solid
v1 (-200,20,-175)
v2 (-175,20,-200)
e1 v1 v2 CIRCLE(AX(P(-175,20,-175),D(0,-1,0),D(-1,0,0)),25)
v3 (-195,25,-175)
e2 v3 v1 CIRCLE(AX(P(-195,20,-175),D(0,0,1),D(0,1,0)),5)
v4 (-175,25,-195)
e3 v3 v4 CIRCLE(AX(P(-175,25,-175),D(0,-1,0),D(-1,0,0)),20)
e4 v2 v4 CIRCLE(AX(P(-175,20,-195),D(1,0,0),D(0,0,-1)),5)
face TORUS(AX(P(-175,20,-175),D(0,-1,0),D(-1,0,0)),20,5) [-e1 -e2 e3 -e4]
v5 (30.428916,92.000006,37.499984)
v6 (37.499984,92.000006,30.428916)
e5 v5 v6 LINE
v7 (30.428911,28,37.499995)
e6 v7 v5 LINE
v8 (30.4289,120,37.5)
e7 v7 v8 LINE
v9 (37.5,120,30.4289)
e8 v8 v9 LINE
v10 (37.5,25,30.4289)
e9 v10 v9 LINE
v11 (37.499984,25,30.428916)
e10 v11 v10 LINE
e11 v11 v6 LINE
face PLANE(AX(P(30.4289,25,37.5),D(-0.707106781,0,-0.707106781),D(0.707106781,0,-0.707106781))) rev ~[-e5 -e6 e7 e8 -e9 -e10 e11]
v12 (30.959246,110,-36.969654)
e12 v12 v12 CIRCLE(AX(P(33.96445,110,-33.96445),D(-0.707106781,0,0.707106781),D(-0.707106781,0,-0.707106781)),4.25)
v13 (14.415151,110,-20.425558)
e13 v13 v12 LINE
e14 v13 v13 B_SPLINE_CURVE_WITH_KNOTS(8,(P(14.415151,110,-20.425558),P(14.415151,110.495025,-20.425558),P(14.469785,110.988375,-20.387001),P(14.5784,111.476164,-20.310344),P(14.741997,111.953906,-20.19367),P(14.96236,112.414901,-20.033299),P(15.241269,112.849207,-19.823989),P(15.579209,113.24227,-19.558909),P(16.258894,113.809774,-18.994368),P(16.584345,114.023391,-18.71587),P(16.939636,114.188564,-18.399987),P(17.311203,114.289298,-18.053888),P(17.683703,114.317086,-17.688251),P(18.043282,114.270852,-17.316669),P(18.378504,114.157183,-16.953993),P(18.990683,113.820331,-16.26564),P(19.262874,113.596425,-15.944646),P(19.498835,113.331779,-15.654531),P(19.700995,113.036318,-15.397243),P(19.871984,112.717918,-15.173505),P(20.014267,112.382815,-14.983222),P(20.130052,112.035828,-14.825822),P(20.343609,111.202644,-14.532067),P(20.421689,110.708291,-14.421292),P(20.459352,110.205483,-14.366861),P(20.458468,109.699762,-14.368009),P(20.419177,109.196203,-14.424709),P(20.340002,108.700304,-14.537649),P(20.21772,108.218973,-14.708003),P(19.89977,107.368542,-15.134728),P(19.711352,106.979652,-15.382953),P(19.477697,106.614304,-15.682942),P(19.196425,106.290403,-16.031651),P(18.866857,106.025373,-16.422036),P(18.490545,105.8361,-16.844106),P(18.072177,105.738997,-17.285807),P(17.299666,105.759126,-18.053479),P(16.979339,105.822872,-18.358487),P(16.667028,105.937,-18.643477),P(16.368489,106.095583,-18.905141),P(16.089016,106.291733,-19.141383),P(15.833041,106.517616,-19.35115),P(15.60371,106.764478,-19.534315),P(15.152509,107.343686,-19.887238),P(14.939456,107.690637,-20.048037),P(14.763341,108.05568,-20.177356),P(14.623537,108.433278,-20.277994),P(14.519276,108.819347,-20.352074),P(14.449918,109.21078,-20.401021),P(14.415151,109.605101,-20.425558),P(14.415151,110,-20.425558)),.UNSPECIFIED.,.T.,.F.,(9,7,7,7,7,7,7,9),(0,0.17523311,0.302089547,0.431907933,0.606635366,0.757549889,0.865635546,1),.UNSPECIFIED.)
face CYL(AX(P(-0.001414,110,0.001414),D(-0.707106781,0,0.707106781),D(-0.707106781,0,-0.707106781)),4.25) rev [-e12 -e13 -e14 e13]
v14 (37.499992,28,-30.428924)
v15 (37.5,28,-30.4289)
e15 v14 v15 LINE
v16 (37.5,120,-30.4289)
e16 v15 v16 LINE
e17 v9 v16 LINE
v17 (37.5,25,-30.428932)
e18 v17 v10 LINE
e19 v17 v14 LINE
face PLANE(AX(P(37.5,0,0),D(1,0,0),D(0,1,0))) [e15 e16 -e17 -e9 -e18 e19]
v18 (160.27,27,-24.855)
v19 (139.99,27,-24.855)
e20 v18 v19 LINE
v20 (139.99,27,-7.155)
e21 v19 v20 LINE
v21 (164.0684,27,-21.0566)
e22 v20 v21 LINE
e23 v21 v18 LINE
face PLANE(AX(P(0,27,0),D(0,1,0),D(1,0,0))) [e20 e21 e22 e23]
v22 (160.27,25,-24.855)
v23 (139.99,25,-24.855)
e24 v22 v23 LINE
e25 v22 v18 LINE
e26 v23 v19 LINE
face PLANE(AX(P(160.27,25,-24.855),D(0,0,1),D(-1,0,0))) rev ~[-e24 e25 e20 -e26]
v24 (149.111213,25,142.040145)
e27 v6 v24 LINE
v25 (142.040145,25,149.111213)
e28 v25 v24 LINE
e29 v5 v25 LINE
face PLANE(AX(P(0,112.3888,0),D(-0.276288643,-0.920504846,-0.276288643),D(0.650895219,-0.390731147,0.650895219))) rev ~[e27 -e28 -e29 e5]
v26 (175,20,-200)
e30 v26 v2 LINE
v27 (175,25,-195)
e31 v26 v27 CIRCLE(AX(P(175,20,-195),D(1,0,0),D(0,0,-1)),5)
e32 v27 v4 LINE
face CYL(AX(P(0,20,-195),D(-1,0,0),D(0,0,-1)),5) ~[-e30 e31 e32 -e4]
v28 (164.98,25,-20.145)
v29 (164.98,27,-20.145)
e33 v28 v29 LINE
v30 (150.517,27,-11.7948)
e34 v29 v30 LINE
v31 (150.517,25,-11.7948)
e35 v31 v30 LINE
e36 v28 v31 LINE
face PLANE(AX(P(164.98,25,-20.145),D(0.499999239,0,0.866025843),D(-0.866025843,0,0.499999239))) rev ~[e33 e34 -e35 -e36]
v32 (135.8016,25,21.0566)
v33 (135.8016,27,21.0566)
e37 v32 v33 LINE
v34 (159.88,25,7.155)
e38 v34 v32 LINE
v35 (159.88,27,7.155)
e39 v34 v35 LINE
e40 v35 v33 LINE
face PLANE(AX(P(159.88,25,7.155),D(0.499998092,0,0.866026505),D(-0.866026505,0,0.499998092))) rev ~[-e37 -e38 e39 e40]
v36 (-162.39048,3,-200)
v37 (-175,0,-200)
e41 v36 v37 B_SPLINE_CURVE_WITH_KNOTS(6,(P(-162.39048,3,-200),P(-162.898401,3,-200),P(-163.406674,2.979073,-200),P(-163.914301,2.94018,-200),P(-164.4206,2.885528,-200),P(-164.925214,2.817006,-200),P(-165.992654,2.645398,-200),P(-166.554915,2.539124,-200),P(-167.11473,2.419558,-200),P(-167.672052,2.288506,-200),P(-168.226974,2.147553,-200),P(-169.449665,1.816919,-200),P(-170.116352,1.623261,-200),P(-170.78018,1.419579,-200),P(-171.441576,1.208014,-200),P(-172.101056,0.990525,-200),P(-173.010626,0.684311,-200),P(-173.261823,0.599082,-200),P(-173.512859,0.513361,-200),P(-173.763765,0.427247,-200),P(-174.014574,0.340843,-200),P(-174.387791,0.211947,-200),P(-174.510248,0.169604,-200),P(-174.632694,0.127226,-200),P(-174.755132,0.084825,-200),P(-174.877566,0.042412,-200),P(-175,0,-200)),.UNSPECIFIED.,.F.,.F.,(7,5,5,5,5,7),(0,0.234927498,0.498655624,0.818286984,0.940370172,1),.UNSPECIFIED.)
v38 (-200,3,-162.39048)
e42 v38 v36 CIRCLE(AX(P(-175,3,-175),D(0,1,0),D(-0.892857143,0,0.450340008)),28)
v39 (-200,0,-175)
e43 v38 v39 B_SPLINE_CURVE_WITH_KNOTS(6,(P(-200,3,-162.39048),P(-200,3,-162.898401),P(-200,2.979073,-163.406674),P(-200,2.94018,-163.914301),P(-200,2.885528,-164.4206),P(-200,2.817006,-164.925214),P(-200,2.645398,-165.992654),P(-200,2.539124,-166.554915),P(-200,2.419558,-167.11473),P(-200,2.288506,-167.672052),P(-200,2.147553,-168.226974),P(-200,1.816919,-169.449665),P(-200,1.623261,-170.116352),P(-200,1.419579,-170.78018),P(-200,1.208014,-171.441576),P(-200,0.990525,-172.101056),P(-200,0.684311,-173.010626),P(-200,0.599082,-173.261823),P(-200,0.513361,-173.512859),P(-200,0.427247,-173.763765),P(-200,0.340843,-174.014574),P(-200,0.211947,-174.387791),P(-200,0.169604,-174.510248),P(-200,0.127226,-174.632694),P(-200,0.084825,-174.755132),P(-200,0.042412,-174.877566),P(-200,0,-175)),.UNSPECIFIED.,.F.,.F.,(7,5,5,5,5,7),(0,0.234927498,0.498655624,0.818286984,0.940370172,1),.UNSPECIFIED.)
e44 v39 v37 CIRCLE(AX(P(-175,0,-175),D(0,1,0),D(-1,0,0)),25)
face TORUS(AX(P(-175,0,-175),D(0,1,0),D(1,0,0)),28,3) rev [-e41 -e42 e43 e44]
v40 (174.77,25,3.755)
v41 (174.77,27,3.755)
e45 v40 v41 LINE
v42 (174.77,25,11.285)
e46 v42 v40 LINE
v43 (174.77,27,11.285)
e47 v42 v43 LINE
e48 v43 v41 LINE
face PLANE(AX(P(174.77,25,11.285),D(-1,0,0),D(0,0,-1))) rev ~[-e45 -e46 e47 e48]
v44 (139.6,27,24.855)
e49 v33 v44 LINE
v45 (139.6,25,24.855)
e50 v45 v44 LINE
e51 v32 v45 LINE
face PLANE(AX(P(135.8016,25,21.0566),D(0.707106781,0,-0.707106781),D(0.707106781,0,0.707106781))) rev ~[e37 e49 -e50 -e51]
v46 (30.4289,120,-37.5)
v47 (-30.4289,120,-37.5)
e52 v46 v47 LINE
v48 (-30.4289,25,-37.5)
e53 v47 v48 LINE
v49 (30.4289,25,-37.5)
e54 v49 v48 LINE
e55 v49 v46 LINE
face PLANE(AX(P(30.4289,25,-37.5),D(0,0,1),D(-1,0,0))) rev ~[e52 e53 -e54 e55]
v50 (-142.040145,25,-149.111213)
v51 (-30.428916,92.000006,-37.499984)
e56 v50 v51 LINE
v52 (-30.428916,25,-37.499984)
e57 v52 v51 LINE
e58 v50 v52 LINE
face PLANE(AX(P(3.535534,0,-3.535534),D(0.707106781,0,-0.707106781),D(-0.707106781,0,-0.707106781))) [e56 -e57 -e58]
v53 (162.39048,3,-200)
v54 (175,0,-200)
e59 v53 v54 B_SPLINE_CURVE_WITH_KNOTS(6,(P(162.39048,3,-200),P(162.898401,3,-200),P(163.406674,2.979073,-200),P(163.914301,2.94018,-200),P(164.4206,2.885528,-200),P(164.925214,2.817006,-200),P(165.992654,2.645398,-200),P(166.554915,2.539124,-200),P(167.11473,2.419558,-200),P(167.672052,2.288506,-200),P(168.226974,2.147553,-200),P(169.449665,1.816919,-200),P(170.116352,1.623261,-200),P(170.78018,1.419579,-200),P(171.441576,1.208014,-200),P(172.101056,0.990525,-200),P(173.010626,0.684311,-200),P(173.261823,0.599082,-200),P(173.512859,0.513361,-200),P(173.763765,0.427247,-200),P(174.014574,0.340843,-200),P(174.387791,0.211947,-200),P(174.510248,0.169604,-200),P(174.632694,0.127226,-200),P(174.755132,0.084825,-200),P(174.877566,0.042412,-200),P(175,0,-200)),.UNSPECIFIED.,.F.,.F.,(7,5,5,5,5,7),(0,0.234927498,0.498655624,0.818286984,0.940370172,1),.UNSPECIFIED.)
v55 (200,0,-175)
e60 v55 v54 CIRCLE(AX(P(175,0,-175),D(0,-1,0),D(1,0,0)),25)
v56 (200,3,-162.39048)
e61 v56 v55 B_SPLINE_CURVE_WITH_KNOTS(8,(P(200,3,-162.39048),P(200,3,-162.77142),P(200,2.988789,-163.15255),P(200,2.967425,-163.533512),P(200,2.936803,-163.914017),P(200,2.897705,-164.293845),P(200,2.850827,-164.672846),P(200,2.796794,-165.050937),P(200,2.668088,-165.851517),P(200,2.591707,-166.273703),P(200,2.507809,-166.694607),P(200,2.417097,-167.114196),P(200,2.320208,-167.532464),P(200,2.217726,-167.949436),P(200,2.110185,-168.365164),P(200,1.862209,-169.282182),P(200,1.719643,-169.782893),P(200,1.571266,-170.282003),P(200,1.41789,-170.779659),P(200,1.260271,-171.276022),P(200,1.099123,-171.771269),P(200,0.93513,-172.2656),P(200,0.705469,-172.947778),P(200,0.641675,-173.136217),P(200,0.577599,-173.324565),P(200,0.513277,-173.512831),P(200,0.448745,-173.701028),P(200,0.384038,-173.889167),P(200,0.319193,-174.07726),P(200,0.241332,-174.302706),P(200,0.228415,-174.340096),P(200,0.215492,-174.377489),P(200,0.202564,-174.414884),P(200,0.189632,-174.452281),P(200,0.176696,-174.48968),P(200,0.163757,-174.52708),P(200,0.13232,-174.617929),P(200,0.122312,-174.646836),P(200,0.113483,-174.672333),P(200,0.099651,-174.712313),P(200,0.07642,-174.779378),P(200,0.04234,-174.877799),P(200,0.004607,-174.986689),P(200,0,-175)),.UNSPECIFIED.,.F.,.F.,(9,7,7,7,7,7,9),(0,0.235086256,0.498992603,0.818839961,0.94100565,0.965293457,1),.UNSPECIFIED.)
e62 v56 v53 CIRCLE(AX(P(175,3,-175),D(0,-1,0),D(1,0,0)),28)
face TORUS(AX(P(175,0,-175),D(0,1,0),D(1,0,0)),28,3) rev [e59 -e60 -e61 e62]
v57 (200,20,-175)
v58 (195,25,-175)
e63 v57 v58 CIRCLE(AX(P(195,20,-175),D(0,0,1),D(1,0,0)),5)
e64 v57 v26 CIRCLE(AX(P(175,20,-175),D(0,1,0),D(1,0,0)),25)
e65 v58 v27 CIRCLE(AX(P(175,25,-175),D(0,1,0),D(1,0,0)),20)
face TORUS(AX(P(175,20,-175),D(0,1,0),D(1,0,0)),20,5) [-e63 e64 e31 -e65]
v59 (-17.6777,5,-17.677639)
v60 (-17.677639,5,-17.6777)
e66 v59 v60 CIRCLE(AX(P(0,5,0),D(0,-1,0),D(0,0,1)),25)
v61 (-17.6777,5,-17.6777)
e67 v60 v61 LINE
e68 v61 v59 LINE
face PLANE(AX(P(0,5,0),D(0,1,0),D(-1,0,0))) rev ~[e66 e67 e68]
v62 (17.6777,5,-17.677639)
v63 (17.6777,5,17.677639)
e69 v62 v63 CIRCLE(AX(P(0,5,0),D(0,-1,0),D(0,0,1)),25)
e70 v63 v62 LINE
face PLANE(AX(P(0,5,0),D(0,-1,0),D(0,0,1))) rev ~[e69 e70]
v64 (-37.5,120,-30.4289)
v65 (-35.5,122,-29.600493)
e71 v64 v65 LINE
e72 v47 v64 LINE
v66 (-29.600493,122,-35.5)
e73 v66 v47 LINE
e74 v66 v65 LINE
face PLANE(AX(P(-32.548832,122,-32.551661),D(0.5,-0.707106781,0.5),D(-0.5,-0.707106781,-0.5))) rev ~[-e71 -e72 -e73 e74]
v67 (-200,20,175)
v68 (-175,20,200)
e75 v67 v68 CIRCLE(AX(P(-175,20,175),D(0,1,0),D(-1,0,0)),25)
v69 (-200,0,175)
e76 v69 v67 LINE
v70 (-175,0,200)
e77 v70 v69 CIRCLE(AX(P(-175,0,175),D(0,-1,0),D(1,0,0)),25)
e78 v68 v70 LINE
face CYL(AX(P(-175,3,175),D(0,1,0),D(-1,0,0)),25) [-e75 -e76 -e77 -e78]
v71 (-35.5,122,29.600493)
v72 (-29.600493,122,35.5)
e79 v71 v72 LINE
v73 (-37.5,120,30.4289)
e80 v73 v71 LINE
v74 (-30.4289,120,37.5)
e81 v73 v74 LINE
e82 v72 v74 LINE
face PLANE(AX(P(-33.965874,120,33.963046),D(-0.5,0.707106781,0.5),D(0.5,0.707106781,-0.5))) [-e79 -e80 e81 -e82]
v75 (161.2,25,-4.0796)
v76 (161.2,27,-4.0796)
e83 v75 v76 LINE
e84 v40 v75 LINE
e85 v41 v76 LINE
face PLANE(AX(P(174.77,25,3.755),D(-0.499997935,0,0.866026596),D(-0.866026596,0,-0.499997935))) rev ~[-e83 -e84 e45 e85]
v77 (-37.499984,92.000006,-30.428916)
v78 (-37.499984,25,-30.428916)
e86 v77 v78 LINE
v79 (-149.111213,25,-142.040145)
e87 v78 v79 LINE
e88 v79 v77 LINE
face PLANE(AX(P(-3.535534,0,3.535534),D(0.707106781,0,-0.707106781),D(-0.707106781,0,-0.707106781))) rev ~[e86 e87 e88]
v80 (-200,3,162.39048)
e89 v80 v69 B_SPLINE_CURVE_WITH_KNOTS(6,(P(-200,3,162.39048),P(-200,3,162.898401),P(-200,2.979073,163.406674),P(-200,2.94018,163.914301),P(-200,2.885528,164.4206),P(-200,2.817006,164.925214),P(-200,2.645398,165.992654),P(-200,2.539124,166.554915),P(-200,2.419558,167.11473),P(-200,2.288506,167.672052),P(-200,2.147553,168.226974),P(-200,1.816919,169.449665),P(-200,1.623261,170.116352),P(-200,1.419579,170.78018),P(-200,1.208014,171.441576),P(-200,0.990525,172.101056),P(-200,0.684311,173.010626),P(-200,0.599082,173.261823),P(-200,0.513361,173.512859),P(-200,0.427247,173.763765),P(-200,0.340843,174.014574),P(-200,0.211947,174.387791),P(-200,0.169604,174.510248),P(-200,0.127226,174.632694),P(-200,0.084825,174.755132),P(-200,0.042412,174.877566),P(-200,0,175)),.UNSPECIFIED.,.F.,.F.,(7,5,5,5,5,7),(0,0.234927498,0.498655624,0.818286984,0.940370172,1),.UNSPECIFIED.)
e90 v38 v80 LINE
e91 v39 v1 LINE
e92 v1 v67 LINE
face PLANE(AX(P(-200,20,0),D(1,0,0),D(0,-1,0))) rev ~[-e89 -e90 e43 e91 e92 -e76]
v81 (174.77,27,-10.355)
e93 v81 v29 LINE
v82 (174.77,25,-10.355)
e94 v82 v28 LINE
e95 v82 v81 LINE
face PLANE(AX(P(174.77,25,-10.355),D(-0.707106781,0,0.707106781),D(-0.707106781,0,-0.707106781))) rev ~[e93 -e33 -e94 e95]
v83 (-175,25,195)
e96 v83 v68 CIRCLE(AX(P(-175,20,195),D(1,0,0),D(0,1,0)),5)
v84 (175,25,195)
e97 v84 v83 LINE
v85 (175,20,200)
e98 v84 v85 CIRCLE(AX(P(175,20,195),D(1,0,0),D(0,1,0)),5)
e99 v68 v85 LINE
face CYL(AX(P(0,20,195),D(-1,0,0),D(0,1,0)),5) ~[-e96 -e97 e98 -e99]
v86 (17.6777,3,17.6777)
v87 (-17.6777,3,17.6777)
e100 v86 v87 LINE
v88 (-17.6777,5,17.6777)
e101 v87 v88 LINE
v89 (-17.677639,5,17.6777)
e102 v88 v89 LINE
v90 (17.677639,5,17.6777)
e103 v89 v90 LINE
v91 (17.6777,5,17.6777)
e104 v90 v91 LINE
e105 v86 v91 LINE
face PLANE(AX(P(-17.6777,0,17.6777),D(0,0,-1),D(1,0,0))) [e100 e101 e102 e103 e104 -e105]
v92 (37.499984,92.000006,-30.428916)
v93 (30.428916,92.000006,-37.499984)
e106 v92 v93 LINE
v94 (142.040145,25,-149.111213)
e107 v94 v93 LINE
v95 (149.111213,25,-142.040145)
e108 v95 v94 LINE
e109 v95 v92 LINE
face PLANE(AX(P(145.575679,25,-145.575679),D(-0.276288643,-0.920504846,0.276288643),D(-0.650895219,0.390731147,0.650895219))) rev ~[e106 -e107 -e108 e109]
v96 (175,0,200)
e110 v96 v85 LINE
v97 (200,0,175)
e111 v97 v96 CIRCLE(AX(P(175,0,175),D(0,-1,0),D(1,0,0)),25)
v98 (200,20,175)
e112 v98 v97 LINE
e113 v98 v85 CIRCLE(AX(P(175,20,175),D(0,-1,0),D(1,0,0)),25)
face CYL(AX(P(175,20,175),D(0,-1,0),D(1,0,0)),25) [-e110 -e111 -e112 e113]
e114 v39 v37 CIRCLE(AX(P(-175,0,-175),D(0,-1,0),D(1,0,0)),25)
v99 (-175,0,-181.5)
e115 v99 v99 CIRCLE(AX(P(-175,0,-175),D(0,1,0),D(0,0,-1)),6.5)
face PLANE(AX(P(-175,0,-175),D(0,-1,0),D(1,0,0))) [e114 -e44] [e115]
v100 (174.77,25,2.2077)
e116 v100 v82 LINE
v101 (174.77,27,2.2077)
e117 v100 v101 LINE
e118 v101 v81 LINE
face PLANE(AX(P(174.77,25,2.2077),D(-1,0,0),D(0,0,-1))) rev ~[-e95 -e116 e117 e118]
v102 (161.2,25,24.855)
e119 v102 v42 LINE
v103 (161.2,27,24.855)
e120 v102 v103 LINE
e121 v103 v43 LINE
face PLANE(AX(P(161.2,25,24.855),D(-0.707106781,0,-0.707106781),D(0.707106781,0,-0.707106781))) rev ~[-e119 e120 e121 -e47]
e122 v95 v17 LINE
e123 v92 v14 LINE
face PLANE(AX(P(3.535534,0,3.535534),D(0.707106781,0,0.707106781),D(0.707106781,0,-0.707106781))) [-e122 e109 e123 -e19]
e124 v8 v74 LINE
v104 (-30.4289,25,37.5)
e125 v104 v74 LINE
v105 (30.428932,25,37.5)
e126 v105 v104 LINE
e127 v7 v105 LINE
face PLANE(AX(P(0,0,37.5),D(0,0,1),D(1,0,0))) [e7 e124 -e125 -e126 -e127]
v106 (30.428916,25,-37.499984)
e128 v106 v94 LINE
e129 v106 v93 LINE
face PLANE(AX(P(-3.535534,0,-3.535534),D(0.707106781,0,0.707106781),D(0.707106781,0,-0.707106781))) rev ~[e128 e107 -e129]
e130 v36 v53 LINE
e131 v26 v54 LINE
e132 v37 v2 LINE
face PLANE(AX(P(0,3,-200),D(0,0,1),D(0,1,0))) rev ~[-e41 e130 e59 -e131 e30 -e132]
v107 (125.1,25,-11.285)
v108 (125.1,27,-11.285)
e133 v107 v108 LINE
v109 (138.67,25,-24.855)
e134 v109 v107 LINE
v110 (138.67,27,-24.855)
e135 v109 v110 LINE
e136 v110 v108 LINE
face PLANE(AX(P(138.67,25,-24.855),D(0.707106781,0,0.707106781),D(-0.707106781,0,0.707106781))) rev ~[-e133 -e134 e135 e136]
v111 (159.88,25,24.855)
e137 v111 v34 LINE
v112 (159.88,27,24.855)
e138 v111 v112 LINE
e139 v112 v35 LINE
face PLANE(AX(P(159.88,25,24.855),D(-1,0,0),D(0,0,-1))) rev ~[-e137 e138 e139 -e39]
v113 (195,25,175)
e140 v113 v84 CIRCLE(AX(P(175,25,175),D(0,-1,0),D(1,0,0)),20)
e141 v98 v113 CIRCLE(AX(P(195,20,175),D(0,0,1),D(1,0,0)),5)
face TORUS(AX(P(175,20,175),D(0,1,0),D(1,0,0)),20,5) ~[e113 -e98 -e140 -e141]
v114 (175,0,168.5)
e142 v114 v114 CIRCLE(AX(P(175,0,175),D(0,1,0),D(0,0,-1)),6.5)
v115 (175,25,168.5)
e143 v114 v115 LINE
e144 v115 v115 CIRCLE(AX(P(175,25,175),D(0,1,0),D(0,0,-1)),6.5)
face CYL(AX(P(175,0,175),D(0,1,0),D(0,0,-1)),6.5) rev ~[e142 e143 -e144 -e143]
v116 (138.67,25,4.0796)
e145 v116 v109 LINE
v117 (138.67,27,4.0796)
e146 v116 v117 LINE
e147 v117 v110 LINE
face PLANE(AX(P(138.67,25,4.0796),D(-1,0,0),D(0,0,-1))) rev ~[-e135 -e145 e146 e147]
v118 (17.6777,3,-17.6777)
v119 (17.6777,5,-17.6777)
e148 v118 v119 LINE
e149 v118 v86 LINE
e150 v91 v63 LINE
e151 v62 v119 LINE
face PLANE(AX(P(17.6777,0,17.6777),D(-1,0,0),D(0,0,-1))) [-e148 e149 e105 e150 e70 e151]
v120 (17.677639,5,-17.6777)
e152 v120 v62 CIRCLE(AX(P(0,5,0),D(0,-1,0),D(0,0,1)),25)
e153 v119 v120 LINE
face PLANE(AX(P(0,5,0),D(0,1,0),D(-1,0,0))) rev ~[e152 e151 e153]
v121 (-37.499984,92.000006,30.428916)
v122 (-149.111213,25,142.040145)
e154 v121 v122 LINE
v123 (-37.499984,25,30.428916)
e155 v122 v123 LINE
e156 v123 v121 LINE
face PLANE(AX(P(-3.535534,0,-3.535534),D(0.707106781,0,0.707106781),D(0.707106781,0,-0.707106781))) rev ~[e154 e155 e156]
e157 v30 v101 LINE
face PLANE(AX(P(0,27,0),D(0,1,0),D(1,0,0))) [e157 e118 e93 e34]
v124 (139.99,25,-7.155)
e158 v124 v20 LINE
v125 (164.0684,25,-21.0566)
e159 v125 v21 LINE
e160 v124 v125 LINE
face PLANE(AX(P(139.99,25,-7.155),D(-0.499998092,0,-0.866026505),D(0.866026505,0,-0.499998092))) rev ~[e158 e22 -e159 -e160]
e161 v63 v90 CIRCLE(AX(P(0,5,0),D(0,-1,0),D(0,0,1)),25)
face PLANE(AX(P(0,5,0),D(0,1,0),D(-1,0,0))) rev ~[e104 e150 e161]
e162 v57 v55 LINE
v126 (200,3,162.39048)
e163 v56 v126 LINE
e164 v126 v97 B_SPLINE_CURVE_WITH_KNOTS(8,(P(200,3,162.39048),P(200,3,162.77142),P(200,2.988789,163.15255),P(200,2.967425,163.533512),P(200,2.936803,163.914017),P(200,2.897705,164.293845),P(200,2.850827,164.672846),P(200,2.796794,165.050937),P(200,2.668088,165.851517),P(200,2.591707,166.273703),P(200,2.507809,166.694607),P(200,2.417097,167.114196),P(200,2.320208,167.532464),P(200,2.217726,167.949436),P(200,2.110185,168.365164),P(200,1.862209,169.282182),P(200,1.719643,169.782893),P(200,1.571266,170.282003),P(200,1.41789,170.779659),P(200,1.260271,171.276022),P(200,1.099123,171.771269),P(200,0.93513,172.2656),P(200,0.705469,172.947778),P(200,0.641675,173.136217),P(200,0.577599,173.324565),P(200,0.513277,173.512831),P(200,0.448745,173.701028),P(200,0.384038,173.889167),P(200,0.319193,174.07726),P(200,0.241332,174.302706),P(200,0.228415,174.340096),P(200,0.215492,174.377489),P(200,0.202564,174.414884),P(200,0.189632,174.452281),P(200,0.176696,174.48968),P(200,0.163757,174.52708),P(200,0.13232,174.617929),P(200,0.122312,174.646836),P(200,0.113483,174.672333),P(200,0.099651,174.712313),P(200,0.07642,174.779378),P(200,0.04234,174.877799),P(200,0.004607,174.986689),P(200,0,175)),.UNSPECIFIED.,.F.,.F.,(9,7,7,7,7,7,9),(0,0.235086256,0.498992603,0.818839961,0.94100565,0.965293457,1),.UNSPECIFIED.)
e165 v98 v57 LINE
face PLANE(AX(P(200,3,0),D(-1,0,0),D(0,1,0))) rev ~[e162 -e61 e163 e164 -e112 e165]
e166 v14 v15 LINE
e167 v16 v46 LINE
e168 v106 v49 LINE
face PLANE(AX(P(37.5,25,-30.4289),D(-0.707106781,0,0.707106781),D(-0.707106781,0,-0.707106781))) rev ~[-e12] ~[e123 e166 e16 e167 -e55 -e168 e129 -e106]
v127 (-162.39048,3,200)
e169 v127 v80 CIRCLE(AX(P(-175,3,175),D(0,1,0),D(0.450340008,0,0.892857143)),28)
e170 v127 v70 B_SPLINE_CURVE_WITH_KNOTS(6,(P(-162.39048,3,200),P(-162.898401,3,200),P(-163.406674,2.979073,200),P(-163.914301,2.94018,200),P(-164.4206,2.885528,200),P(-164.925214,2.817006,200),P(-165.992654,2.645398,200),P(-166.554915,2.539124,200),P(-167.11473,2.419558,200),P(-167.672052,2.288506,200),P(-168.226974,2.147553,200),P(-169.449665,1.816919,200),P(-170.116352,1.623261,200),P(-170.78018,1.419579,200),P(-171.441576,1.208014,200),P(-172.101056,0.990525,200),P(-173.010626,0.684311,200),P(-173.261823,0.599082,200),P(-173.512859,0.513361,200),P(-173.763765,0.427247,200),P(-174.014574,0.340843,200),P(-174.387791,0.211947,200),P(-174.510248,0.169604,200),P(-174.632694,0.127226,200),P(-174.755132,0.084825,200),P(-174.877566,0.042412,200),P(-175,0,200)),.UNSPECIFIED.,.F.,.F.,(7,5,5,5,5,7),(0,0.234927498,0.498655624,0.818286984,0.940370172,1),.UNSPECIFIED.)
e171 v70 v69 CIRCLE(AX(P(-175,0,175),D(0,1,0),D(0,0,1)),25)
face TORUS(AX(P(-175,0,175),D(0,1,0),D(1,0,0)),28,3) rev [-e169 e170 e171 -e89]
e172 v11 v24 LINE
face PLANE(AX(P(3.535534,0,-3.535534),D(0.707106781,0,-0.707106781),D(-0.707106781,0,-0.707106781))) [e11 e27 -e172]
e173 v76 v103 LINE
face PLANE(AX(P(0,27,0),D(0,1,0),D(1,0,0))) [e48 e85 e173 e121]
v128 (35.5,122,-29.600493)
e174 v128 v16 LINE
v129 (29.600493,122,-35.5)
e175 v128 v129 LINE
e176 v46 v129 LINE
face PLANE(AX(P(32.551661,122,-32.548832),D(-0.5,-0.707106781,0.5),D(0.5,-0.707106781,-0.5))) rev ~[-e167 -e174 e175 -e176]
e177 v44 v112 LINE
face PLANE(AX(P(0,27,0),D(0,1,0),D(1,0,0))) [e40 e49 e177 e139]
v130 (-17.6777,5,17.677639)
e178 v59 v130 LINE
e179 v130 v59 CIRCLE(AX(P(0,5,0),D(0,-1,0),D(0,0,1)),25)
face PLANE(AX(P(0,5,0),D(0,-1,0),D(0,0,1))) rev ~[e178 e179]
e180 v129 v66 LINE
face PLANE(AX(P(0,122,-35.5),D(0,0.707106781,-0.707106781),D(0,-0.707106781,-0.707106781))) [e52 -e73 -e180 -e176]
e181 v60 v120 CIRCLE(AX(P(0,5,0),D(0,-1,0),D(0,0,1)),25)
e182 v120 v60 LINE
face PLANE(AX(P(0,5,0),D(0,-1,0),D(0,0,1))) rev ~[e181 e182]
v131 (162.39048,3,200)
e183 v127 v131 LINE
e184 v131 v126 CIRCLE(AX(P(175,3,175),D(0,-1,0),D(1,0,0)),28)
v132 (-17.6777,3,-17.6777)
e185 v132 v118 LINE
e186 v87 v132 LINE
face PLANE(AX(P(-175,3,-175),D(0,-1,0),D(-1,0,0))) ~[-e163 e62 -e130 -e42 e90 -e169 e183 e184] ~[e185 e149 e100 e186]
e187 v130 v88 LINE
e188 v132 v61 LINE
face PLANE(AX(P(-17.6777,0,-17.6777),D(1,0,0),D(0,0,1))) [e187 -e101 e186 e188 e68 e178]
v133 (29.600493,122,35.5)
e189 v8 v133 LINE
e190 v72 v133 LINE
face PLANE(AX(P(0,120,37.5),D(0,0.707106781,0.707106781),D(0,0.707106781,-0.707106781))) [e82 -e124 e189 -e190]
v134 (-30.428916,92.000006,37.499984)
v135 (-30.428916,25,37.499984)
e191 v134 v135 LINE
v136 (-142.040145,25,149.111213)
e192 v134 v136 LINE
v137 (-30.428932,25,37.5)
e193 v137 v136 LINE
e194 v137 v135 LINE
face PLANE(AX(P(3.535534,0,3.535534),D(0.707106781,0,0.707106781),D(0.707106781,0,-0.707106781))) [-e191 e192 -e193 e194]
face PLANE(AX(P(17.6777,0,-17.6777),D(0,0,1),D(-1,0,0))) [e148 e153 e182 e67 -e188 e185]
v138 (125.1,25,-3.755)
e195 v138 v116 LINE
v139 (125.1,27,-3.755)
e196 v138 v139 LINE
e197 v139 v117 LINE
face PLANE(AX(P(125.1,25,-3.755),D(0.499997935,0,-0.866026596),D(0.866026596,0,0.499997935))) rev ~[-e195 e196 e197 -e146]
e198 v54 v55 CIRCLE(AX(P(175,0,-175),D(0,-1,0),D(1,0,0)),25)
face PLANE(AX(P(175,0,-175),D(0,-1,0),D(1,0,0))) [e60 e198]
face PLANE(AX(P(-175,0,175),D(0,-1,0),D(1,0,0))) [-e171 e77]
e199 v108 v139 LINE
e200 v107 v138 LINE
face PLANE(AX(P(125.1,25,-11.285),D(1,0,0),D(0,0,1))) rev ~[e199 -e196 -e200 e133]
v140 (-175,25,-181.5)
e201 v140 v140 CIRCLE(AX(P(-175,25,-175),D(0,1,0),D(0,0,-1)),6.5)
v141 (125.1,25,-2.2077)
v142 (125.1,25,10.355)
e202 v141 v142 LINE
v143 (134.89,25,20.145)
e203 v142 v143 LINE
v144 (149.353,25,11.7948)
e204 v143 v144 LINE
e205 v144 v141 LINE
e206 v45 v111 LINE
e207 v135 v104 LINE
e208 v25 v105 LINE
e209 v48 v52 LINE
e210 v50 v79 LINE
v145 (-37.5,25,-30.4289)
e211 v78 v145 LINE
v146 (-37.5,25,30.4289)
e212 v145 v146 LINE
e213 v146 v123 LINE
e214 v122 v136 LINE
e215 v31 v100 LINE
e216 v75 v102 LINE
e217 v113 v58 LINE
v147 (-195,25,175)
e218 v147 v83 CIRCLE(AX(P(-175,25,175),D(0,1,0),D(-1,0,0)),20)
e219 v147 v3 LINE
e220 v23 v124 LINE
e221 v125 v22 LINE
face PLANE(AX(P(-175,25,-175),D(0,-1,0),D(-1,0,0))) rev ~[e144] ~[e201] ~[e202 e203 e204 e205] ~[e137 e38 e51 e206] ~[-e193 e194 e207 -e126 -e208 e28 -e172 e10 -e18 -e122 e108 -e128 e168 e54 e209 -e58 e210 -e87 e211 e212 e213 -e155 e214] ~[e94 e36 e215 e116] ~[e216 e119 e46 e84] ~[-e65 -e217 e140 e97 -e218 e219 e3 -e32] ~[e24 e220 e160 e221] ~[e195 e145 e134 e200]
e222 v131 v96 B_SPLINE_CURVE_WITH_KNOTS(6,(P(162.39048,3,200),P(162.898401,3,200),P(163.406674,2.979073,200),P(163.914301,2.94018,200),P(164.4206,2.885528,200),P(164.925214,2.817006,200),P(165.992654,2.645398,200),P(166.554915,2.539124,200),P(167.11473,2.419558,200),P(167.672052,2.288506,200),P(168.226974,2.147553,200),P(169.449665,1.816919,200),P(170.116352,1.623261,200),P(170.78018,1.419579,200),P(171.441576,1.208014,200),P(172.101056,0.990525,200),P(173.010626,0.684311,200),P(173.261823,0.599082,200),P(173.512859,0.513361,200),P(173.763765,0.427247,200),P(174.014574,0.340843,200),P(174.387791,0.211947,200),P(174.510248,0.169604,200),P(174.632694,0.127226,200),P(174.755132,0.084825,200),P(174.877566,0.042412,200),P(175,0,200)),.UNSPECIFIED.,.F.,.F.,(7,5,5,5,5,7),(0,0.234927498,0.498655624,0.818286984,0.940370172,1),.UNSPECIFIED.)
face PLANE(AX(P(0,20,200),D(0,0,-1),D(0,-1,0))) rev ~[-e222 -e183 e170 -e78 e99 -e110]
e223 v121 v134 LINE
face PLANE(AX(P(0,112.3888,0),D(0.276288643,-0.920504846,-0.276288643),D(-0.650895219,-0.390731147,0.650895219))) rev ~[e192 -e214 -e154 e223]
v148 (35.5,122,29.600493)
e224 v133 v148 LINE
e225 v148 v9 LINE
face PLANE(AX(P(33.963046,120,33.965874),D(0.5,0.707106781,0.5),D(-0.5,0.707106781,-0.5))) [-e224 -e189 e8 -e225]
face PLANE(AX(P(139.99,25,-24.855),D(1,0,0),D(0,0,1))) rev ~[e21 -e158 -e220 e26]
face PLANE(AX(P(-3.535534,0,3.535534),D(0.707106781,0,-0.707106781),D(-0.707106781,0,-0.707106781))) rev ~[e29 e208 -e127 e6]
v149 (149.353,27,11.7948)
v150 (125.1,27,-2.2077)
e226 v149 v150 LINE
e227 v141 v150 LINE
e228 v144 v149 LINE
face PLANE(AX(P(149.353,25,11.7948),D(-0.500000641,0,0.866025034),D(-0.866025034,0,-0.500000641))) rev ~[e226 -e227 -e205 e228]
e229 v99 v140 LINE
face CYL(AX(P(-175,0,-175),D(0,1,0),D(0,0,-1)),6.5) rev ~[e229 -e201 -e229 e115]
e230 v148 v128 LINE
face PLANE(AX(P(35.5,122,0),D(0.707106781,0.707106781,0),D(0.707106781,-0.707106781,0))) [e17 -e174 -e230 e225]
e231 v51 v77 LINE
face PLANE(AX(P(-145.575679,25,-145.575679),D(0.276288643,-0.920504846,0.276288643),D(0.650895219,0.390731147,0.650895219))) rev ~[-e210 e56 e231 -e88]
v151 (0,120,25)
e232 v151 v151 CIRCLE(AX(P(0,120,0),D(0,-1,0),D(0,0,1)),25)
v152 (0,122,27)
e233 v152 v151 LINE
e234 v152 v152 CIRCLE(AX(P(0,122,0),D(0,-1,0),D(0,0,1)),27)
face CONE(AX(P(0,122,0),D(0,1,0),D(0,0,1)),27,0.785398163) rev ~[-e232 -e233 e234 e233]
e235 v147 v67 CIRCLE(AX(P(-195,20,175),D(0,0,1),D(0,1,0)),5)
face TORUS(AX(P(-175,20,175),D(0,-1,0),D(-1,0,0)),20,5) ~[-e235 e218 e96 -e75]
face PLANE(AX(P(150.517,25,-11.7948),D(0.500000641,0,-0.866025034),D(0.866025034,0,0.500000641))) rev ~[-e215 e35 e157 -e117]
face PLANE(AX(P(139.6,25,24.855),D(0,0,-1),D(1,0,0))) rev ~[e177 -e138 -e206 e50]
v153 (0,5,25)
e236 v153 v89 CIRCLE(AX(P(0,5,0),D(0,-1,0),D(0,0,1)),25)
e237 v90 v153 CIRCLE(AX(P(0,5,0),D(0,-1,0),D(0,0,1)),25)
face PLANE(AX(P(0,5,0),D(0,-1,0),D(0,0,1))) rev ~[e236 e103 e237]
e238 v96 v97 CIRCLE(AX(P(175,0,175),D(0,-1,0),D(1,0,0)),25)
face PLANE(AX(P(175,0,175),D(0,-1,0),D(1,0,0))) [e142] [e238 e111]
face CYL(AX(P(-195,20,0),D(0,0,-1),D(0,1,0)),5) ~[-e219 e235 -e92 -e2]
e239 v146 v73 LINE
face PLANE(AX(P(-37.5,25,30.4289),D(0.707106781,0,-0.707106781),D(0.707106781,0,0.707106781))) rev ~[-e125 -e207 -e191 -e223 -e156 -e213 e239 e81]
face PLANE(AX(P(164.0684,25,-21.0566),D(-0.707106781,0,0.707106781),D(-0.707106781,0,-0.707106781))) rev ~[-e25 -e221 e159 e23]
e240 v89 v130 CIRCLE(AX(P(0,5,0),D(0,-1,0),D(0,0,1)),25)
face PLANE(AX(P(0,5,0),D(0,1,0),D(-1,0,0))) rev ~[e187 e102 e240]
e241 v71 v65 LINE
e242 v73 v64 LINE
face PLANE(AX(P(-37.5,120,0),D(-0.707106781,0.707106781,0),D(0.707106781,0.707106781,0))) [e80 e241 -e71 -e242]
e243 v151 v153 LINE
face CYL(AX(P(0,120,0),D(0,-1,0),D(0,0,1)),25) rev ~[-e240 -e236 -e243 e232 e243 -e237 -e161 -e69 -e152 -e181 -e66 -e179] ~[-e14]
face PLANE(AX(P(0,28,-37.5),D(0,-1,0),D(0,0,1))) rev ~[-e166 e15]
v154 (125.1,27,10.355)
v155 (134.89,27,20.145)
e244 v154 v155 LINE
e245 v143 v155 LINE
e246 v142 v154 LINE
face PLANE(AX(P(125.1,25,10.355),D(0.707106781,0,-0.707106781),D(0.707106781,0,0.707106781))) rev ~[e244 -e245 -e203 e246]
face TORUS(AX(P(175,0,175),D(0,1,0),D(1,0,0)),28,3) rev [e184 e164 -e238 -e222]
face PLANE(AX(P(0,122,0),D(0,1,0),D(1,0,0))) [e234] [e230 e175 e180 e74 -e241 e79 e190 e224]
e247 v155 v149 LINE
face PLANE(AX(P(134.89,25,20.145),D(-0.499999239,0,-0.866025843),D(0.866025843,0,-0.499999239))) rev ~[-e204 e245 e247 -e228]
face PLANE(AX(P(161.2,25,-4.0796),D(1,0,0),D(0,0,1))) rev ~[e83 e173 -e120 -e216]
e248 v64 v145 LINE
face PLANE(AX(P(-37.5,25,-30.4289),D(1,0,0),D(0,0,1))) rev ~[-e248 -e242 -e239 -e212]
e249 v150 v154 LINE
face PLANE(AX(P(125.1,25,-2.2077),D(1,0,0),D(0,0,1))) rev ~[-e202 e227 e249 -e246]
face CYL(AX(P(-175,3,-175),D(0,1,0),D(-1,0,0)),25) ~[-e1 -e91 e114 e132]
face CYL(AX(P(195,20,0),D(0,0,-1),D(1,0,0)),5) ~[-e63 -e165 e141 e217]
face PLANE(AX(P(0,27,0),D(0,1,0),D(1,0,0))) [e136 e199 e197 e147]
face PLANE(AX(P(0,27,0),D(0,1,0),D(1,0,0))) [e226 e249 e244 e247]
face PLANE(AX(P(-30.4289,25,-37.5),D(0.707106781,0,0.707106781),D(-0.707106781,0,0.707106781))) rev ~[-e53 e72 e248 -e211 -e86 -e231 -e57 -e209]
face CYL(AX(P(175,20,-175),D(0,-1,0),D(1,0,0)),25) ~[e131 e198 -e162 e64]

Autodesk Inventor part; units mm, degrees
sketch "Sketch_1" plane through (0, 0, 0) normal (0, 0, 1) x (1, 0, 0)
  line L0 (-200, 20) -> (-200, 3)
  line L1 (-200, 3) -> (200, 3)
  line L2 (200, 3) -> (200, 20)
  arc A0 (200, 20) -> (195, 25) centre (195, 20) ccw
  line L3 (195, 25) -> (-195, 25)
  arc A1 (-195, 25) -> (-200, 20) centre (-195, 20) ccw
extrude "Extrusion1" add sketch "Sketch_1" along normal mid plane 350
sketch "Sketch_2" plane through (0, 0, 0) normal (1, 0, 0) x (0, 1, 0)
  line L0 (20, 200) -> (3, 200)
  line L1 (3, 200) -> (3, -200)
  line L2 (3, -200) -> (20, -200)
  arc A0 (20, -200) -> (25, -195) centre (20, -195) ccw
  line L3 (25, -195) -> (25, 195)
  arc A1 (25, 195) -> (20, 200) centre (20, 195) ccw
extrude "Extrusion2" add sketch "Sketch_2" along normal mid plane 350
sketch "Sketch_3" plane through (0, 0, 175) normal (0, 0, 1) x (1, 0, 0)
  line L0 (175, 3) -> (175, 25)
  line L1 (175, 25) -> (195, 25)
  arc A0 (200, 20) -> (195, 25) centre (195, 20) ccw
  line L2 (200, 20) -> (200, 3)
  line L3 (200, 3) -> (175, 3)
  line L4 (175, 3) -> (175, 25)
revolve "Revolution1" add sketch "Sketch_3" angle 90 about axis through (175, 3, 175) along (0, -1, 0)
sketch "Sketch_4" plane through (0, 0, 175) normal (0, 0, 1) x (1, 0, 0)
  line L0 (-175, 25) -> (-175, 3)
  line L1 (-175, 3) -> (-200, 3)
  line L2 (-200, 3) -> (-200, 20)
  arc A0 (-195, 25) -> (-200, 20) centre (-195, 20) ccw
  line L3 (-195, 25) -> (-175, 25)
  line L4 (-175, 25) -> (-175, 3)
revolve "Revolution2" add sketch "Sketch_4" angle 90 about axis through (-175, 25, 175) along (0, 1, 0)
sketch "Sketch_5" plane through (0, 0, -175) normal (0, 0, 1) x (1, 0, 0)
  line L0 (175, 3) -> (175, 25)
  line L1 (175, 25) -> (195, 25)
  arc A0 (200, 20) -> (195, 25) centre (195, 20) ccw
  line L2 (200, 20) -> (200, 3)
  line L3 (200, 3) -> (175, 3)
  line L4 (175, 3) -> (175, 25)
revolve "Revolution3" add sketch "Sketch_5" angle 90 about axis through (175, 3, -175) along (0, 1, 0)
sketch "Sketch_6" plane through (0, 0, -175) normal (0, 0, 1) x (1, 0, 0)
  line L0 (-175, 25) -> (-175, 3)
  line L1 (-175, 3) -> (-200, 3)
  line L2 (-200, 3) -> (-200, 20)
  arc A0 (-195, 25) -> (-200, 20) centre (-195, 20) ccw
  line L3 (-195, 25) -> (-175, 25)
  line L4 (-175, 25) -> (-175, 3)
revolve "Revolution4" add sketch "Sketch_6" angle 90 about axis through (-175, 25, -175) along (0, -1, 0)
sketch "Sketch_7" plane through (0, 0, 175) normal (0, 0, 1) x (1, 0, 0)
  line L0 (175, 0) -> (175, 3)
  line L1 (175, 3) -> (203, 3)
  arc A0 (203, 3) -> (200, 0) centre (203, 0) ccw
  line L2 (200, 0) -> (175, 0)
  line L3 (175, 0) -> (175, 3)
revolve "Revolution5" add sketch "Sketch_7" angle 360 about axis through (175, 0, 175) along (0, -1, 0)
sketch "Sketch_8" plane through (0, 0, 175) normal (0, 0, 1) x (1, 0, 0)
  line L0 (-175, 0) -> (-175, 3)
  line L1 (-175, 3) -> (-147, 3)
  arc A0 (-147, 3) -> (-150, 0) centre (-147, 0) ccw
  line L2 (-150, 0) -> (-175, 0)
  line L3 (-175, 0) -> (-175, 3)
revolve "Revolution6" add sketch "Sketch_8" angle 360 about axis through (-175, 0, 175) along (0, -1, 0)
sketch "Sketch_9" plane through (0, 0, -175) normal (0, 0, 1) x (1, 0, 0)
  line L0 (175, 0) -> (175, 3)
  line L1 (175, 3) -> (203, 3)
  arc A0 (203, 3) -> (200, 0) centre (203, 0) ccw
  line L2 (200, 0) -> (175, 0)
  line L3 (175, 0) -> (175, 3)
revolve "Revolution7" add sketch "Sketch_9" angle 360 about axis through (175, 0, -175) along (0, -1, 0)
sketch "Sketch_10" plane through (0, 0, -175) normal (0, 0, 1) x (1, 0, 0)
  line L0 (-175, 0) -> (-175, 3)
  line L1 (-175, 3) -> (-147, 3)
  arc A0 (-147, 3) -> (-150, 0) centre (-147, 0) ccw
  line L2 (-150, 0) -> (-175, 0)
  line L3 (-175, 0) -> (-175, 3)
revolve "Revolution8" add sketch "Sketch_10" angle 360 about axis through (-175, 0, -175) along (0, -1, 0)
sketch "Sketch_12" plane through (0, 3, 0) normal (0, 1, 0) x (1, 0, 0)
  line L0 (-300, -300) -> (300, -300)
  line L1 (300, -300) -> (300, 300)
  line L2 (300, 300) -> (-300, 300)
  line L3 (-300, 300) -> (-300, -300)
  arc A0 (-200, -175) -> (-175, -200) centre (-175, -175) ccw
  line L4 (-175, -200) -> (175, -200)
  arc A1 (175, -200) -> (200, -175) centre (175, -175) ccw
  line L5 (200, -175) -> (200, 175)
  arc A2 (200, 175) -> (175, 200) centre (175, 175) ccw
  line L6 (175, 200) -> (-175, 200)
  arc A3 (-175, 200) -> (-200, 175) centre (-175, 175) ccw
  line L7 (-200, 175) -> (-200, -175)
extrude "Extrusion3" cut sketch "Sketch_12" along normal mid plane 100
sketch "Sketch12" plane through (-175, 0, -175) normal (0, -1, 0) x (0.7071, 0, 0.7071)
  point P0 (0, 0)
hole "Hole1" at (-175, 0, -175) direction (0, 1, 0) diameter 13 depth 50
sketch "Sketch13" plane through (175, 0, 175) normal (0, -1, 0) x (0.7071, 0, 0.7071)
  point P0 (0, 0)
hole "Hole2" at (175, 0, 175) direction (0, 1, 0) diameter 13 depth 50
sketch "Sketch_14" plane through (0, 0, 0) normal (0.7071, 0, 0.7071) x (0.7071, 0, -0.7071)
  line L0 (-205.8751, 25) -> (205.8751, 25)
  line L1 (205.8751, 25) -> (0, 112.3888)
  line L2 (0, 112.3888) -> (-205.8751, 25)
extrude "Extrusion4" add sketch "Sketch_14" along normal mid plane 10
sketch "Sketch_15" plane through (0, 0, 0) normal (0.7071, 0, -0.7071) x (-0.7071, 0, -0.7071)
  line L0 (-205.8751, 25) -> (205.8751, 25)
  line L1 (205.8751, 25) -> (0, 112.3888)
  line L2 (0, 112.3888) -> (-205.8751, 25)
extrude "Extrusion5" add sketch "Sketch_15" along normal mid plane 10
sketch "Sketch_16" plane through (0, 25, 0) normal (0, 1, 0) x (1, 0, 0)
  line L0 (-37.5, -30.4289) -> (-30.4289, -37.5)
  line L1 (-30.4289, -37.5) -> (30.4289, -37.5)
  line L2 (30.4289, -37.5) -> (37.5, -30.4289)
  line L3 (37.5, -30.4289) -> (37.5, 30.4289)
  line L4 (37.5, 30.4289) -> (30.4289, 37.5)
  line L5 (30.4289, 37.5) -> (-30.4289, 37.5)
  line L6 (-30.4289, 37.5) -> (-37.5, 30.4289)
  line L7 (-37.5, 30.4289) -> (-37.5, -30.4289)
extrude "Extrusion6" add sketch "Sketch_16" along normal blind 97
sketch "Sketch_24" plane through (0, 0, 0) normal (0, 0, 1) x (1, 0, 0)
  line L0 (-40.5, 25) -> (40.5, 25)
  arc A0 (37.5, 28) -> (40.5, 25) centre (40.5, 28) ccw
  line L1 (37.5, 28) -> (-37.5, 28)
  arc A1 (-40.5, 25) -> (-37.5, 28) centre (-40.5, 28) ccw
extrude "Extrusion7" add sketch "Sketch_24" along normal mid plane 75
sketch "Sketch_25" plane through (0, 0, 0) normal (1, 0, 0) x (0, 1, 0)
  line L0 (25, 40.5) -> (25, -40.5)
  arc A0 (28, -37.5) -> (25, -40.5) centre (28, -40.5) ccw
  line L1 (28, -37.5) -> (28, 37.5)
  arc A1 (25, 40.5) -> (28, 37.5) centre (28, 40.5) ccw
extrude "Extrusion8" add sketch "Sketch_25" along normal mid plane 75
sketch "Sketch_17" plane through (0, 0, 0) normal (0.7071, 0, 0.7071) x (0.7071, 0, -0.7071)
  line L0 (-53.033, 120) -> (-48.033, 120)
  line L1 (-48.033, 120) -> (-46.033, 122)
  line L2 (-46.033, 122) -> (46.033, 122)
  line L3 (46.033, 122) -> (48.033, 120)
  line L4 (48.033, 120) -> (53.033, 120)
  line L5 (53.033, 120) -> (53.033, 127)
  line L6 (53.033, 127) -> (-53.033, 127)
  line L7 (-53.033, 127) -> (-53.033, 120)
sketch "Sketch_18" plane through (0, 0, 0) normal (0.7071, 0, -0.7071) x (-0.7071, 0, -0.7071)
  line L0 (-53.033, 120) -> (-48.033, 120)
  line L1 (-48.033, 120) -> (-46.033, 122)
  line L2 (-46.033, 122) -> (46.033, 122)
  line L3 (46.033, 122) -> (48.033, 120)
  line L4 (48.033, 120) -> (53.033, 120)
  line L5 (53.033, 120) -> (53.033, 127)
  line L6 (53.033, 127) -> (-53.033, 127)
  line L7 (-53.033, 127) -> (-53.033, 120)
sketch "Sketch_19" plane through (0, 0, 0) normal (0, 0, 1) x (1, 0, 0)
  line L0 (-42.5, 127) -> (-42.5, 117)
  line L1 (-42.5, 117) -> (-37.5, 117)
  line L2 (-37.5, 117) -> (-37.5, 120)
  line L3 (-37.5, 120) -> (-35.5, 122)
  line L4 (-35.5, 122) -> (35.5, 122)
  line L5 (35.5, 122) -> (37.5, 120)
  line L6 (37.5, 120) -> (37.5, 117)
  line L7 (37.5, 117) -> (42.5, 117)
  line L8 (42.5, 117) -> (42.5, 127)
  line L9 (42.5, 127) -> (-42.5, 127)
extrude "Extrusion9" cut sketch "Sketch_19" along normal mid plane 80
sketch "Sketch_20" plane through (0, 0, 0) normal (1, 0, 0) x (0, 1, 0)
  line L0 (127, 42.5) -> (117, 42.5)
  line L1 (117, 42.5) -> (117, 37.5)
  line L2 (117, 37.5) -> (120, 37.5)
  line L3 (120, 37.5) -> (122, 35.5)
  line L4 (122, 35.5) -> (122, -35.5)
  line L5 (122, -35.5) -> (120, -37.5)
  line L6 (120, -37.5) -> (117, -37.5)
  line L7 (117, -37.5) -> (117, -42.5)
  line L8 (117, -42.5) -> (127, -42.5)
  line L9 (127, -42.5) -> (127, 42.5)
extrude "Extrusion10" cut sketch "Sketch_20" along normal mid plane 80
sketch "Sketch23" plane through (0, 122, 0) normal (0, 1, 0) x (1, 0, 0)
  point P0 (0, 0)
hole "Hole3" at (0, 122, 0) direction (0, -1, 0) diameter 50 depth 117 countersink diameter 54 countersink angle 90
sketch "Sketch_22" plane through (0, 0, 0) normal (0.7071, 0, -0.7071) x (-0.7071, 0, -0.7071)
  circle A0 centre (0, 110) radius 4.25
extrude "Extrusion11" cut sketch "Sketch_22" along normal blind 100
sketch "Sketch_23" plane through (0, 0, 0) normal (0, 1, 0) x (-1, 0, 0)
  line L0 (17.6777, 17.6777) -> (-17.6777, 17.6777)
  line L1 (-17.6777, 17.6777) -> (-17.6777, -17.6777)
  line L2 (-17.6777, -17.6777) -> (17.6777, -17.6777)
  line L3 (17.6777, -17.6777) -> (17.6777, 17.6777)
extrude "Extrusion12" cut sketch "Sketch_23" along normal blind 5
extrude "Extrusion13" cut sketch "Sketch_17" along normal mid plane 30
extrude "Extrusion14" cut sketch "Sketch_18" along normal mid plane 30
sketch "Sketch_29" plane through (0, 25, 0) normal (0, 1, 0) x (1, 0, 0)
  line L0 (161.2, -24.855) -> (174.77, -11.285)
  line L1 (174.77, -11.285) -> (174.77, -3.755)
  line L2 (174.77, -3.755) -> (161.2, 4.0796)
  line L3 (161.2, 4.0796) -> (161.2, -24.855)
extrude "Extrusion15" add sketch "Sketch_29" along normal blind 2
sketch "Sketch_30" plane through (0, 25, 0) normal (0, 1, 0) x (1, 0, 0)
  line L0 (150.517, 11.7948) -> (174.77, -2.2077)
  line L1 (174.77, -2.2077) -> (174.77, 10.355)
  line L2 (174.77, 10.355) -> (164.98, 20.145)
  line L3 (164.98, 20.145) -> (150.517, 11.7948)
extrude "Extrusion16" add sketch "Sketch_30" along normal blind 2
sketch "Sketch_31" plane through (0, 25, 0) normal (0, 1, 0) x (1, 0, 0)
  line L0 (135.8016, -21.0566) -> (139.6, -24.855)
  line L1 (139.6, -24.855) -> (159.88, -24.855)
  line L2 (159.88, -24.855) -> (159.88, -7.155)
  line L3 (159.88, -7.155) -> (135.8016, -21.0566)
extrude "Extrusion17" add sketch "Sketch_31" along normal blind 2
sketch "Sketch_32" plane through (0, 25, 0) normal (0, 1, 0) x (1, 0, 0)
  line L0 (125.1, 2.2077) -> (125.1, -10.355)
  line L1 (125.1, -10.355) -> (134.89, -20.145)
  line L2 (134.89, -20.145) -> (149.353, -11.7948)
  line L3 (149.353, -11.7948) -> (125.1, 2.2077)
extrude "Extrusion18" add sketch "Sketch_32" along normal blind 2
sketch "Sketch_33" plane through (0, 25, 0) normal (0, 1, 0) x (1, 0, 0)
  line L0 (125.1, 11.285) -> (125.1, 3.755)
  line L1 (125.1, 3.755) -> (138.67, -4.0796)
  line L2 (138.67, -4.0796) -> (138.67, 24.855)
  line L3 (138.67, 24.855) -> (125.1, 11.285)
extrude "Extrusion19" add sketch "Sketch_33" along normal blind 2
sketch "Sketch_34" plane through (0, 25, 0) normal (0, 1, 0) x (1, 0, 0)
  line L0 (139.99, 7.155) -> (164.0684, 21.0566)
  line L1 (164.0684, 21.0566) -> (160.27, 24.855)
  line L2 (160.27, 24.855) -> (139.99, 24.855)
  line L3 (139.99, 24.855) -> (139.99, 7.155)
extrude "Extrusion20" add sketch "Sketch_34" along normal blind 2
ref_plane "DUMMY_XY" through (0, 0, 0) normal (0, 1, 0) x (1, 0, 0)
ref_plane "DUMMY_YZ" through (0, 0, 0) normal (1, 0, 0) x (0, 0, -1)
ref_plane "DUMMY_ZX" through (0, 0, 0) normal (0, 0, -1) x (0, 1, 0)
ref_plane "PROFIL_XY" through (0, 5, 0) normal (0, -1, 0) x (1, 0, 0)
ref_plane "PROFIL_YZ" through (0, 5, 0) normal (1, 0, 0) x (0, 0, 1)
ref_plane "PROFIL_ZX" through (0, 5, 0) normal (0, 0, 1) x (0, -1, 0)
ref_plane "PROFIL2_XY" through (0, 122, 0) normal (0, -1, 0) x (1, 0, 0)
ref_plane "PROFIL2_YZ" through (0, 122, 0) normal (1, 0, 0) x (0, 0, 1)
ref_plane "PROFIL2_ZX" through (0, 122, 0) normal (0, 0, 1) x (0, -1, 0)
properties part number "BZB-FP"
